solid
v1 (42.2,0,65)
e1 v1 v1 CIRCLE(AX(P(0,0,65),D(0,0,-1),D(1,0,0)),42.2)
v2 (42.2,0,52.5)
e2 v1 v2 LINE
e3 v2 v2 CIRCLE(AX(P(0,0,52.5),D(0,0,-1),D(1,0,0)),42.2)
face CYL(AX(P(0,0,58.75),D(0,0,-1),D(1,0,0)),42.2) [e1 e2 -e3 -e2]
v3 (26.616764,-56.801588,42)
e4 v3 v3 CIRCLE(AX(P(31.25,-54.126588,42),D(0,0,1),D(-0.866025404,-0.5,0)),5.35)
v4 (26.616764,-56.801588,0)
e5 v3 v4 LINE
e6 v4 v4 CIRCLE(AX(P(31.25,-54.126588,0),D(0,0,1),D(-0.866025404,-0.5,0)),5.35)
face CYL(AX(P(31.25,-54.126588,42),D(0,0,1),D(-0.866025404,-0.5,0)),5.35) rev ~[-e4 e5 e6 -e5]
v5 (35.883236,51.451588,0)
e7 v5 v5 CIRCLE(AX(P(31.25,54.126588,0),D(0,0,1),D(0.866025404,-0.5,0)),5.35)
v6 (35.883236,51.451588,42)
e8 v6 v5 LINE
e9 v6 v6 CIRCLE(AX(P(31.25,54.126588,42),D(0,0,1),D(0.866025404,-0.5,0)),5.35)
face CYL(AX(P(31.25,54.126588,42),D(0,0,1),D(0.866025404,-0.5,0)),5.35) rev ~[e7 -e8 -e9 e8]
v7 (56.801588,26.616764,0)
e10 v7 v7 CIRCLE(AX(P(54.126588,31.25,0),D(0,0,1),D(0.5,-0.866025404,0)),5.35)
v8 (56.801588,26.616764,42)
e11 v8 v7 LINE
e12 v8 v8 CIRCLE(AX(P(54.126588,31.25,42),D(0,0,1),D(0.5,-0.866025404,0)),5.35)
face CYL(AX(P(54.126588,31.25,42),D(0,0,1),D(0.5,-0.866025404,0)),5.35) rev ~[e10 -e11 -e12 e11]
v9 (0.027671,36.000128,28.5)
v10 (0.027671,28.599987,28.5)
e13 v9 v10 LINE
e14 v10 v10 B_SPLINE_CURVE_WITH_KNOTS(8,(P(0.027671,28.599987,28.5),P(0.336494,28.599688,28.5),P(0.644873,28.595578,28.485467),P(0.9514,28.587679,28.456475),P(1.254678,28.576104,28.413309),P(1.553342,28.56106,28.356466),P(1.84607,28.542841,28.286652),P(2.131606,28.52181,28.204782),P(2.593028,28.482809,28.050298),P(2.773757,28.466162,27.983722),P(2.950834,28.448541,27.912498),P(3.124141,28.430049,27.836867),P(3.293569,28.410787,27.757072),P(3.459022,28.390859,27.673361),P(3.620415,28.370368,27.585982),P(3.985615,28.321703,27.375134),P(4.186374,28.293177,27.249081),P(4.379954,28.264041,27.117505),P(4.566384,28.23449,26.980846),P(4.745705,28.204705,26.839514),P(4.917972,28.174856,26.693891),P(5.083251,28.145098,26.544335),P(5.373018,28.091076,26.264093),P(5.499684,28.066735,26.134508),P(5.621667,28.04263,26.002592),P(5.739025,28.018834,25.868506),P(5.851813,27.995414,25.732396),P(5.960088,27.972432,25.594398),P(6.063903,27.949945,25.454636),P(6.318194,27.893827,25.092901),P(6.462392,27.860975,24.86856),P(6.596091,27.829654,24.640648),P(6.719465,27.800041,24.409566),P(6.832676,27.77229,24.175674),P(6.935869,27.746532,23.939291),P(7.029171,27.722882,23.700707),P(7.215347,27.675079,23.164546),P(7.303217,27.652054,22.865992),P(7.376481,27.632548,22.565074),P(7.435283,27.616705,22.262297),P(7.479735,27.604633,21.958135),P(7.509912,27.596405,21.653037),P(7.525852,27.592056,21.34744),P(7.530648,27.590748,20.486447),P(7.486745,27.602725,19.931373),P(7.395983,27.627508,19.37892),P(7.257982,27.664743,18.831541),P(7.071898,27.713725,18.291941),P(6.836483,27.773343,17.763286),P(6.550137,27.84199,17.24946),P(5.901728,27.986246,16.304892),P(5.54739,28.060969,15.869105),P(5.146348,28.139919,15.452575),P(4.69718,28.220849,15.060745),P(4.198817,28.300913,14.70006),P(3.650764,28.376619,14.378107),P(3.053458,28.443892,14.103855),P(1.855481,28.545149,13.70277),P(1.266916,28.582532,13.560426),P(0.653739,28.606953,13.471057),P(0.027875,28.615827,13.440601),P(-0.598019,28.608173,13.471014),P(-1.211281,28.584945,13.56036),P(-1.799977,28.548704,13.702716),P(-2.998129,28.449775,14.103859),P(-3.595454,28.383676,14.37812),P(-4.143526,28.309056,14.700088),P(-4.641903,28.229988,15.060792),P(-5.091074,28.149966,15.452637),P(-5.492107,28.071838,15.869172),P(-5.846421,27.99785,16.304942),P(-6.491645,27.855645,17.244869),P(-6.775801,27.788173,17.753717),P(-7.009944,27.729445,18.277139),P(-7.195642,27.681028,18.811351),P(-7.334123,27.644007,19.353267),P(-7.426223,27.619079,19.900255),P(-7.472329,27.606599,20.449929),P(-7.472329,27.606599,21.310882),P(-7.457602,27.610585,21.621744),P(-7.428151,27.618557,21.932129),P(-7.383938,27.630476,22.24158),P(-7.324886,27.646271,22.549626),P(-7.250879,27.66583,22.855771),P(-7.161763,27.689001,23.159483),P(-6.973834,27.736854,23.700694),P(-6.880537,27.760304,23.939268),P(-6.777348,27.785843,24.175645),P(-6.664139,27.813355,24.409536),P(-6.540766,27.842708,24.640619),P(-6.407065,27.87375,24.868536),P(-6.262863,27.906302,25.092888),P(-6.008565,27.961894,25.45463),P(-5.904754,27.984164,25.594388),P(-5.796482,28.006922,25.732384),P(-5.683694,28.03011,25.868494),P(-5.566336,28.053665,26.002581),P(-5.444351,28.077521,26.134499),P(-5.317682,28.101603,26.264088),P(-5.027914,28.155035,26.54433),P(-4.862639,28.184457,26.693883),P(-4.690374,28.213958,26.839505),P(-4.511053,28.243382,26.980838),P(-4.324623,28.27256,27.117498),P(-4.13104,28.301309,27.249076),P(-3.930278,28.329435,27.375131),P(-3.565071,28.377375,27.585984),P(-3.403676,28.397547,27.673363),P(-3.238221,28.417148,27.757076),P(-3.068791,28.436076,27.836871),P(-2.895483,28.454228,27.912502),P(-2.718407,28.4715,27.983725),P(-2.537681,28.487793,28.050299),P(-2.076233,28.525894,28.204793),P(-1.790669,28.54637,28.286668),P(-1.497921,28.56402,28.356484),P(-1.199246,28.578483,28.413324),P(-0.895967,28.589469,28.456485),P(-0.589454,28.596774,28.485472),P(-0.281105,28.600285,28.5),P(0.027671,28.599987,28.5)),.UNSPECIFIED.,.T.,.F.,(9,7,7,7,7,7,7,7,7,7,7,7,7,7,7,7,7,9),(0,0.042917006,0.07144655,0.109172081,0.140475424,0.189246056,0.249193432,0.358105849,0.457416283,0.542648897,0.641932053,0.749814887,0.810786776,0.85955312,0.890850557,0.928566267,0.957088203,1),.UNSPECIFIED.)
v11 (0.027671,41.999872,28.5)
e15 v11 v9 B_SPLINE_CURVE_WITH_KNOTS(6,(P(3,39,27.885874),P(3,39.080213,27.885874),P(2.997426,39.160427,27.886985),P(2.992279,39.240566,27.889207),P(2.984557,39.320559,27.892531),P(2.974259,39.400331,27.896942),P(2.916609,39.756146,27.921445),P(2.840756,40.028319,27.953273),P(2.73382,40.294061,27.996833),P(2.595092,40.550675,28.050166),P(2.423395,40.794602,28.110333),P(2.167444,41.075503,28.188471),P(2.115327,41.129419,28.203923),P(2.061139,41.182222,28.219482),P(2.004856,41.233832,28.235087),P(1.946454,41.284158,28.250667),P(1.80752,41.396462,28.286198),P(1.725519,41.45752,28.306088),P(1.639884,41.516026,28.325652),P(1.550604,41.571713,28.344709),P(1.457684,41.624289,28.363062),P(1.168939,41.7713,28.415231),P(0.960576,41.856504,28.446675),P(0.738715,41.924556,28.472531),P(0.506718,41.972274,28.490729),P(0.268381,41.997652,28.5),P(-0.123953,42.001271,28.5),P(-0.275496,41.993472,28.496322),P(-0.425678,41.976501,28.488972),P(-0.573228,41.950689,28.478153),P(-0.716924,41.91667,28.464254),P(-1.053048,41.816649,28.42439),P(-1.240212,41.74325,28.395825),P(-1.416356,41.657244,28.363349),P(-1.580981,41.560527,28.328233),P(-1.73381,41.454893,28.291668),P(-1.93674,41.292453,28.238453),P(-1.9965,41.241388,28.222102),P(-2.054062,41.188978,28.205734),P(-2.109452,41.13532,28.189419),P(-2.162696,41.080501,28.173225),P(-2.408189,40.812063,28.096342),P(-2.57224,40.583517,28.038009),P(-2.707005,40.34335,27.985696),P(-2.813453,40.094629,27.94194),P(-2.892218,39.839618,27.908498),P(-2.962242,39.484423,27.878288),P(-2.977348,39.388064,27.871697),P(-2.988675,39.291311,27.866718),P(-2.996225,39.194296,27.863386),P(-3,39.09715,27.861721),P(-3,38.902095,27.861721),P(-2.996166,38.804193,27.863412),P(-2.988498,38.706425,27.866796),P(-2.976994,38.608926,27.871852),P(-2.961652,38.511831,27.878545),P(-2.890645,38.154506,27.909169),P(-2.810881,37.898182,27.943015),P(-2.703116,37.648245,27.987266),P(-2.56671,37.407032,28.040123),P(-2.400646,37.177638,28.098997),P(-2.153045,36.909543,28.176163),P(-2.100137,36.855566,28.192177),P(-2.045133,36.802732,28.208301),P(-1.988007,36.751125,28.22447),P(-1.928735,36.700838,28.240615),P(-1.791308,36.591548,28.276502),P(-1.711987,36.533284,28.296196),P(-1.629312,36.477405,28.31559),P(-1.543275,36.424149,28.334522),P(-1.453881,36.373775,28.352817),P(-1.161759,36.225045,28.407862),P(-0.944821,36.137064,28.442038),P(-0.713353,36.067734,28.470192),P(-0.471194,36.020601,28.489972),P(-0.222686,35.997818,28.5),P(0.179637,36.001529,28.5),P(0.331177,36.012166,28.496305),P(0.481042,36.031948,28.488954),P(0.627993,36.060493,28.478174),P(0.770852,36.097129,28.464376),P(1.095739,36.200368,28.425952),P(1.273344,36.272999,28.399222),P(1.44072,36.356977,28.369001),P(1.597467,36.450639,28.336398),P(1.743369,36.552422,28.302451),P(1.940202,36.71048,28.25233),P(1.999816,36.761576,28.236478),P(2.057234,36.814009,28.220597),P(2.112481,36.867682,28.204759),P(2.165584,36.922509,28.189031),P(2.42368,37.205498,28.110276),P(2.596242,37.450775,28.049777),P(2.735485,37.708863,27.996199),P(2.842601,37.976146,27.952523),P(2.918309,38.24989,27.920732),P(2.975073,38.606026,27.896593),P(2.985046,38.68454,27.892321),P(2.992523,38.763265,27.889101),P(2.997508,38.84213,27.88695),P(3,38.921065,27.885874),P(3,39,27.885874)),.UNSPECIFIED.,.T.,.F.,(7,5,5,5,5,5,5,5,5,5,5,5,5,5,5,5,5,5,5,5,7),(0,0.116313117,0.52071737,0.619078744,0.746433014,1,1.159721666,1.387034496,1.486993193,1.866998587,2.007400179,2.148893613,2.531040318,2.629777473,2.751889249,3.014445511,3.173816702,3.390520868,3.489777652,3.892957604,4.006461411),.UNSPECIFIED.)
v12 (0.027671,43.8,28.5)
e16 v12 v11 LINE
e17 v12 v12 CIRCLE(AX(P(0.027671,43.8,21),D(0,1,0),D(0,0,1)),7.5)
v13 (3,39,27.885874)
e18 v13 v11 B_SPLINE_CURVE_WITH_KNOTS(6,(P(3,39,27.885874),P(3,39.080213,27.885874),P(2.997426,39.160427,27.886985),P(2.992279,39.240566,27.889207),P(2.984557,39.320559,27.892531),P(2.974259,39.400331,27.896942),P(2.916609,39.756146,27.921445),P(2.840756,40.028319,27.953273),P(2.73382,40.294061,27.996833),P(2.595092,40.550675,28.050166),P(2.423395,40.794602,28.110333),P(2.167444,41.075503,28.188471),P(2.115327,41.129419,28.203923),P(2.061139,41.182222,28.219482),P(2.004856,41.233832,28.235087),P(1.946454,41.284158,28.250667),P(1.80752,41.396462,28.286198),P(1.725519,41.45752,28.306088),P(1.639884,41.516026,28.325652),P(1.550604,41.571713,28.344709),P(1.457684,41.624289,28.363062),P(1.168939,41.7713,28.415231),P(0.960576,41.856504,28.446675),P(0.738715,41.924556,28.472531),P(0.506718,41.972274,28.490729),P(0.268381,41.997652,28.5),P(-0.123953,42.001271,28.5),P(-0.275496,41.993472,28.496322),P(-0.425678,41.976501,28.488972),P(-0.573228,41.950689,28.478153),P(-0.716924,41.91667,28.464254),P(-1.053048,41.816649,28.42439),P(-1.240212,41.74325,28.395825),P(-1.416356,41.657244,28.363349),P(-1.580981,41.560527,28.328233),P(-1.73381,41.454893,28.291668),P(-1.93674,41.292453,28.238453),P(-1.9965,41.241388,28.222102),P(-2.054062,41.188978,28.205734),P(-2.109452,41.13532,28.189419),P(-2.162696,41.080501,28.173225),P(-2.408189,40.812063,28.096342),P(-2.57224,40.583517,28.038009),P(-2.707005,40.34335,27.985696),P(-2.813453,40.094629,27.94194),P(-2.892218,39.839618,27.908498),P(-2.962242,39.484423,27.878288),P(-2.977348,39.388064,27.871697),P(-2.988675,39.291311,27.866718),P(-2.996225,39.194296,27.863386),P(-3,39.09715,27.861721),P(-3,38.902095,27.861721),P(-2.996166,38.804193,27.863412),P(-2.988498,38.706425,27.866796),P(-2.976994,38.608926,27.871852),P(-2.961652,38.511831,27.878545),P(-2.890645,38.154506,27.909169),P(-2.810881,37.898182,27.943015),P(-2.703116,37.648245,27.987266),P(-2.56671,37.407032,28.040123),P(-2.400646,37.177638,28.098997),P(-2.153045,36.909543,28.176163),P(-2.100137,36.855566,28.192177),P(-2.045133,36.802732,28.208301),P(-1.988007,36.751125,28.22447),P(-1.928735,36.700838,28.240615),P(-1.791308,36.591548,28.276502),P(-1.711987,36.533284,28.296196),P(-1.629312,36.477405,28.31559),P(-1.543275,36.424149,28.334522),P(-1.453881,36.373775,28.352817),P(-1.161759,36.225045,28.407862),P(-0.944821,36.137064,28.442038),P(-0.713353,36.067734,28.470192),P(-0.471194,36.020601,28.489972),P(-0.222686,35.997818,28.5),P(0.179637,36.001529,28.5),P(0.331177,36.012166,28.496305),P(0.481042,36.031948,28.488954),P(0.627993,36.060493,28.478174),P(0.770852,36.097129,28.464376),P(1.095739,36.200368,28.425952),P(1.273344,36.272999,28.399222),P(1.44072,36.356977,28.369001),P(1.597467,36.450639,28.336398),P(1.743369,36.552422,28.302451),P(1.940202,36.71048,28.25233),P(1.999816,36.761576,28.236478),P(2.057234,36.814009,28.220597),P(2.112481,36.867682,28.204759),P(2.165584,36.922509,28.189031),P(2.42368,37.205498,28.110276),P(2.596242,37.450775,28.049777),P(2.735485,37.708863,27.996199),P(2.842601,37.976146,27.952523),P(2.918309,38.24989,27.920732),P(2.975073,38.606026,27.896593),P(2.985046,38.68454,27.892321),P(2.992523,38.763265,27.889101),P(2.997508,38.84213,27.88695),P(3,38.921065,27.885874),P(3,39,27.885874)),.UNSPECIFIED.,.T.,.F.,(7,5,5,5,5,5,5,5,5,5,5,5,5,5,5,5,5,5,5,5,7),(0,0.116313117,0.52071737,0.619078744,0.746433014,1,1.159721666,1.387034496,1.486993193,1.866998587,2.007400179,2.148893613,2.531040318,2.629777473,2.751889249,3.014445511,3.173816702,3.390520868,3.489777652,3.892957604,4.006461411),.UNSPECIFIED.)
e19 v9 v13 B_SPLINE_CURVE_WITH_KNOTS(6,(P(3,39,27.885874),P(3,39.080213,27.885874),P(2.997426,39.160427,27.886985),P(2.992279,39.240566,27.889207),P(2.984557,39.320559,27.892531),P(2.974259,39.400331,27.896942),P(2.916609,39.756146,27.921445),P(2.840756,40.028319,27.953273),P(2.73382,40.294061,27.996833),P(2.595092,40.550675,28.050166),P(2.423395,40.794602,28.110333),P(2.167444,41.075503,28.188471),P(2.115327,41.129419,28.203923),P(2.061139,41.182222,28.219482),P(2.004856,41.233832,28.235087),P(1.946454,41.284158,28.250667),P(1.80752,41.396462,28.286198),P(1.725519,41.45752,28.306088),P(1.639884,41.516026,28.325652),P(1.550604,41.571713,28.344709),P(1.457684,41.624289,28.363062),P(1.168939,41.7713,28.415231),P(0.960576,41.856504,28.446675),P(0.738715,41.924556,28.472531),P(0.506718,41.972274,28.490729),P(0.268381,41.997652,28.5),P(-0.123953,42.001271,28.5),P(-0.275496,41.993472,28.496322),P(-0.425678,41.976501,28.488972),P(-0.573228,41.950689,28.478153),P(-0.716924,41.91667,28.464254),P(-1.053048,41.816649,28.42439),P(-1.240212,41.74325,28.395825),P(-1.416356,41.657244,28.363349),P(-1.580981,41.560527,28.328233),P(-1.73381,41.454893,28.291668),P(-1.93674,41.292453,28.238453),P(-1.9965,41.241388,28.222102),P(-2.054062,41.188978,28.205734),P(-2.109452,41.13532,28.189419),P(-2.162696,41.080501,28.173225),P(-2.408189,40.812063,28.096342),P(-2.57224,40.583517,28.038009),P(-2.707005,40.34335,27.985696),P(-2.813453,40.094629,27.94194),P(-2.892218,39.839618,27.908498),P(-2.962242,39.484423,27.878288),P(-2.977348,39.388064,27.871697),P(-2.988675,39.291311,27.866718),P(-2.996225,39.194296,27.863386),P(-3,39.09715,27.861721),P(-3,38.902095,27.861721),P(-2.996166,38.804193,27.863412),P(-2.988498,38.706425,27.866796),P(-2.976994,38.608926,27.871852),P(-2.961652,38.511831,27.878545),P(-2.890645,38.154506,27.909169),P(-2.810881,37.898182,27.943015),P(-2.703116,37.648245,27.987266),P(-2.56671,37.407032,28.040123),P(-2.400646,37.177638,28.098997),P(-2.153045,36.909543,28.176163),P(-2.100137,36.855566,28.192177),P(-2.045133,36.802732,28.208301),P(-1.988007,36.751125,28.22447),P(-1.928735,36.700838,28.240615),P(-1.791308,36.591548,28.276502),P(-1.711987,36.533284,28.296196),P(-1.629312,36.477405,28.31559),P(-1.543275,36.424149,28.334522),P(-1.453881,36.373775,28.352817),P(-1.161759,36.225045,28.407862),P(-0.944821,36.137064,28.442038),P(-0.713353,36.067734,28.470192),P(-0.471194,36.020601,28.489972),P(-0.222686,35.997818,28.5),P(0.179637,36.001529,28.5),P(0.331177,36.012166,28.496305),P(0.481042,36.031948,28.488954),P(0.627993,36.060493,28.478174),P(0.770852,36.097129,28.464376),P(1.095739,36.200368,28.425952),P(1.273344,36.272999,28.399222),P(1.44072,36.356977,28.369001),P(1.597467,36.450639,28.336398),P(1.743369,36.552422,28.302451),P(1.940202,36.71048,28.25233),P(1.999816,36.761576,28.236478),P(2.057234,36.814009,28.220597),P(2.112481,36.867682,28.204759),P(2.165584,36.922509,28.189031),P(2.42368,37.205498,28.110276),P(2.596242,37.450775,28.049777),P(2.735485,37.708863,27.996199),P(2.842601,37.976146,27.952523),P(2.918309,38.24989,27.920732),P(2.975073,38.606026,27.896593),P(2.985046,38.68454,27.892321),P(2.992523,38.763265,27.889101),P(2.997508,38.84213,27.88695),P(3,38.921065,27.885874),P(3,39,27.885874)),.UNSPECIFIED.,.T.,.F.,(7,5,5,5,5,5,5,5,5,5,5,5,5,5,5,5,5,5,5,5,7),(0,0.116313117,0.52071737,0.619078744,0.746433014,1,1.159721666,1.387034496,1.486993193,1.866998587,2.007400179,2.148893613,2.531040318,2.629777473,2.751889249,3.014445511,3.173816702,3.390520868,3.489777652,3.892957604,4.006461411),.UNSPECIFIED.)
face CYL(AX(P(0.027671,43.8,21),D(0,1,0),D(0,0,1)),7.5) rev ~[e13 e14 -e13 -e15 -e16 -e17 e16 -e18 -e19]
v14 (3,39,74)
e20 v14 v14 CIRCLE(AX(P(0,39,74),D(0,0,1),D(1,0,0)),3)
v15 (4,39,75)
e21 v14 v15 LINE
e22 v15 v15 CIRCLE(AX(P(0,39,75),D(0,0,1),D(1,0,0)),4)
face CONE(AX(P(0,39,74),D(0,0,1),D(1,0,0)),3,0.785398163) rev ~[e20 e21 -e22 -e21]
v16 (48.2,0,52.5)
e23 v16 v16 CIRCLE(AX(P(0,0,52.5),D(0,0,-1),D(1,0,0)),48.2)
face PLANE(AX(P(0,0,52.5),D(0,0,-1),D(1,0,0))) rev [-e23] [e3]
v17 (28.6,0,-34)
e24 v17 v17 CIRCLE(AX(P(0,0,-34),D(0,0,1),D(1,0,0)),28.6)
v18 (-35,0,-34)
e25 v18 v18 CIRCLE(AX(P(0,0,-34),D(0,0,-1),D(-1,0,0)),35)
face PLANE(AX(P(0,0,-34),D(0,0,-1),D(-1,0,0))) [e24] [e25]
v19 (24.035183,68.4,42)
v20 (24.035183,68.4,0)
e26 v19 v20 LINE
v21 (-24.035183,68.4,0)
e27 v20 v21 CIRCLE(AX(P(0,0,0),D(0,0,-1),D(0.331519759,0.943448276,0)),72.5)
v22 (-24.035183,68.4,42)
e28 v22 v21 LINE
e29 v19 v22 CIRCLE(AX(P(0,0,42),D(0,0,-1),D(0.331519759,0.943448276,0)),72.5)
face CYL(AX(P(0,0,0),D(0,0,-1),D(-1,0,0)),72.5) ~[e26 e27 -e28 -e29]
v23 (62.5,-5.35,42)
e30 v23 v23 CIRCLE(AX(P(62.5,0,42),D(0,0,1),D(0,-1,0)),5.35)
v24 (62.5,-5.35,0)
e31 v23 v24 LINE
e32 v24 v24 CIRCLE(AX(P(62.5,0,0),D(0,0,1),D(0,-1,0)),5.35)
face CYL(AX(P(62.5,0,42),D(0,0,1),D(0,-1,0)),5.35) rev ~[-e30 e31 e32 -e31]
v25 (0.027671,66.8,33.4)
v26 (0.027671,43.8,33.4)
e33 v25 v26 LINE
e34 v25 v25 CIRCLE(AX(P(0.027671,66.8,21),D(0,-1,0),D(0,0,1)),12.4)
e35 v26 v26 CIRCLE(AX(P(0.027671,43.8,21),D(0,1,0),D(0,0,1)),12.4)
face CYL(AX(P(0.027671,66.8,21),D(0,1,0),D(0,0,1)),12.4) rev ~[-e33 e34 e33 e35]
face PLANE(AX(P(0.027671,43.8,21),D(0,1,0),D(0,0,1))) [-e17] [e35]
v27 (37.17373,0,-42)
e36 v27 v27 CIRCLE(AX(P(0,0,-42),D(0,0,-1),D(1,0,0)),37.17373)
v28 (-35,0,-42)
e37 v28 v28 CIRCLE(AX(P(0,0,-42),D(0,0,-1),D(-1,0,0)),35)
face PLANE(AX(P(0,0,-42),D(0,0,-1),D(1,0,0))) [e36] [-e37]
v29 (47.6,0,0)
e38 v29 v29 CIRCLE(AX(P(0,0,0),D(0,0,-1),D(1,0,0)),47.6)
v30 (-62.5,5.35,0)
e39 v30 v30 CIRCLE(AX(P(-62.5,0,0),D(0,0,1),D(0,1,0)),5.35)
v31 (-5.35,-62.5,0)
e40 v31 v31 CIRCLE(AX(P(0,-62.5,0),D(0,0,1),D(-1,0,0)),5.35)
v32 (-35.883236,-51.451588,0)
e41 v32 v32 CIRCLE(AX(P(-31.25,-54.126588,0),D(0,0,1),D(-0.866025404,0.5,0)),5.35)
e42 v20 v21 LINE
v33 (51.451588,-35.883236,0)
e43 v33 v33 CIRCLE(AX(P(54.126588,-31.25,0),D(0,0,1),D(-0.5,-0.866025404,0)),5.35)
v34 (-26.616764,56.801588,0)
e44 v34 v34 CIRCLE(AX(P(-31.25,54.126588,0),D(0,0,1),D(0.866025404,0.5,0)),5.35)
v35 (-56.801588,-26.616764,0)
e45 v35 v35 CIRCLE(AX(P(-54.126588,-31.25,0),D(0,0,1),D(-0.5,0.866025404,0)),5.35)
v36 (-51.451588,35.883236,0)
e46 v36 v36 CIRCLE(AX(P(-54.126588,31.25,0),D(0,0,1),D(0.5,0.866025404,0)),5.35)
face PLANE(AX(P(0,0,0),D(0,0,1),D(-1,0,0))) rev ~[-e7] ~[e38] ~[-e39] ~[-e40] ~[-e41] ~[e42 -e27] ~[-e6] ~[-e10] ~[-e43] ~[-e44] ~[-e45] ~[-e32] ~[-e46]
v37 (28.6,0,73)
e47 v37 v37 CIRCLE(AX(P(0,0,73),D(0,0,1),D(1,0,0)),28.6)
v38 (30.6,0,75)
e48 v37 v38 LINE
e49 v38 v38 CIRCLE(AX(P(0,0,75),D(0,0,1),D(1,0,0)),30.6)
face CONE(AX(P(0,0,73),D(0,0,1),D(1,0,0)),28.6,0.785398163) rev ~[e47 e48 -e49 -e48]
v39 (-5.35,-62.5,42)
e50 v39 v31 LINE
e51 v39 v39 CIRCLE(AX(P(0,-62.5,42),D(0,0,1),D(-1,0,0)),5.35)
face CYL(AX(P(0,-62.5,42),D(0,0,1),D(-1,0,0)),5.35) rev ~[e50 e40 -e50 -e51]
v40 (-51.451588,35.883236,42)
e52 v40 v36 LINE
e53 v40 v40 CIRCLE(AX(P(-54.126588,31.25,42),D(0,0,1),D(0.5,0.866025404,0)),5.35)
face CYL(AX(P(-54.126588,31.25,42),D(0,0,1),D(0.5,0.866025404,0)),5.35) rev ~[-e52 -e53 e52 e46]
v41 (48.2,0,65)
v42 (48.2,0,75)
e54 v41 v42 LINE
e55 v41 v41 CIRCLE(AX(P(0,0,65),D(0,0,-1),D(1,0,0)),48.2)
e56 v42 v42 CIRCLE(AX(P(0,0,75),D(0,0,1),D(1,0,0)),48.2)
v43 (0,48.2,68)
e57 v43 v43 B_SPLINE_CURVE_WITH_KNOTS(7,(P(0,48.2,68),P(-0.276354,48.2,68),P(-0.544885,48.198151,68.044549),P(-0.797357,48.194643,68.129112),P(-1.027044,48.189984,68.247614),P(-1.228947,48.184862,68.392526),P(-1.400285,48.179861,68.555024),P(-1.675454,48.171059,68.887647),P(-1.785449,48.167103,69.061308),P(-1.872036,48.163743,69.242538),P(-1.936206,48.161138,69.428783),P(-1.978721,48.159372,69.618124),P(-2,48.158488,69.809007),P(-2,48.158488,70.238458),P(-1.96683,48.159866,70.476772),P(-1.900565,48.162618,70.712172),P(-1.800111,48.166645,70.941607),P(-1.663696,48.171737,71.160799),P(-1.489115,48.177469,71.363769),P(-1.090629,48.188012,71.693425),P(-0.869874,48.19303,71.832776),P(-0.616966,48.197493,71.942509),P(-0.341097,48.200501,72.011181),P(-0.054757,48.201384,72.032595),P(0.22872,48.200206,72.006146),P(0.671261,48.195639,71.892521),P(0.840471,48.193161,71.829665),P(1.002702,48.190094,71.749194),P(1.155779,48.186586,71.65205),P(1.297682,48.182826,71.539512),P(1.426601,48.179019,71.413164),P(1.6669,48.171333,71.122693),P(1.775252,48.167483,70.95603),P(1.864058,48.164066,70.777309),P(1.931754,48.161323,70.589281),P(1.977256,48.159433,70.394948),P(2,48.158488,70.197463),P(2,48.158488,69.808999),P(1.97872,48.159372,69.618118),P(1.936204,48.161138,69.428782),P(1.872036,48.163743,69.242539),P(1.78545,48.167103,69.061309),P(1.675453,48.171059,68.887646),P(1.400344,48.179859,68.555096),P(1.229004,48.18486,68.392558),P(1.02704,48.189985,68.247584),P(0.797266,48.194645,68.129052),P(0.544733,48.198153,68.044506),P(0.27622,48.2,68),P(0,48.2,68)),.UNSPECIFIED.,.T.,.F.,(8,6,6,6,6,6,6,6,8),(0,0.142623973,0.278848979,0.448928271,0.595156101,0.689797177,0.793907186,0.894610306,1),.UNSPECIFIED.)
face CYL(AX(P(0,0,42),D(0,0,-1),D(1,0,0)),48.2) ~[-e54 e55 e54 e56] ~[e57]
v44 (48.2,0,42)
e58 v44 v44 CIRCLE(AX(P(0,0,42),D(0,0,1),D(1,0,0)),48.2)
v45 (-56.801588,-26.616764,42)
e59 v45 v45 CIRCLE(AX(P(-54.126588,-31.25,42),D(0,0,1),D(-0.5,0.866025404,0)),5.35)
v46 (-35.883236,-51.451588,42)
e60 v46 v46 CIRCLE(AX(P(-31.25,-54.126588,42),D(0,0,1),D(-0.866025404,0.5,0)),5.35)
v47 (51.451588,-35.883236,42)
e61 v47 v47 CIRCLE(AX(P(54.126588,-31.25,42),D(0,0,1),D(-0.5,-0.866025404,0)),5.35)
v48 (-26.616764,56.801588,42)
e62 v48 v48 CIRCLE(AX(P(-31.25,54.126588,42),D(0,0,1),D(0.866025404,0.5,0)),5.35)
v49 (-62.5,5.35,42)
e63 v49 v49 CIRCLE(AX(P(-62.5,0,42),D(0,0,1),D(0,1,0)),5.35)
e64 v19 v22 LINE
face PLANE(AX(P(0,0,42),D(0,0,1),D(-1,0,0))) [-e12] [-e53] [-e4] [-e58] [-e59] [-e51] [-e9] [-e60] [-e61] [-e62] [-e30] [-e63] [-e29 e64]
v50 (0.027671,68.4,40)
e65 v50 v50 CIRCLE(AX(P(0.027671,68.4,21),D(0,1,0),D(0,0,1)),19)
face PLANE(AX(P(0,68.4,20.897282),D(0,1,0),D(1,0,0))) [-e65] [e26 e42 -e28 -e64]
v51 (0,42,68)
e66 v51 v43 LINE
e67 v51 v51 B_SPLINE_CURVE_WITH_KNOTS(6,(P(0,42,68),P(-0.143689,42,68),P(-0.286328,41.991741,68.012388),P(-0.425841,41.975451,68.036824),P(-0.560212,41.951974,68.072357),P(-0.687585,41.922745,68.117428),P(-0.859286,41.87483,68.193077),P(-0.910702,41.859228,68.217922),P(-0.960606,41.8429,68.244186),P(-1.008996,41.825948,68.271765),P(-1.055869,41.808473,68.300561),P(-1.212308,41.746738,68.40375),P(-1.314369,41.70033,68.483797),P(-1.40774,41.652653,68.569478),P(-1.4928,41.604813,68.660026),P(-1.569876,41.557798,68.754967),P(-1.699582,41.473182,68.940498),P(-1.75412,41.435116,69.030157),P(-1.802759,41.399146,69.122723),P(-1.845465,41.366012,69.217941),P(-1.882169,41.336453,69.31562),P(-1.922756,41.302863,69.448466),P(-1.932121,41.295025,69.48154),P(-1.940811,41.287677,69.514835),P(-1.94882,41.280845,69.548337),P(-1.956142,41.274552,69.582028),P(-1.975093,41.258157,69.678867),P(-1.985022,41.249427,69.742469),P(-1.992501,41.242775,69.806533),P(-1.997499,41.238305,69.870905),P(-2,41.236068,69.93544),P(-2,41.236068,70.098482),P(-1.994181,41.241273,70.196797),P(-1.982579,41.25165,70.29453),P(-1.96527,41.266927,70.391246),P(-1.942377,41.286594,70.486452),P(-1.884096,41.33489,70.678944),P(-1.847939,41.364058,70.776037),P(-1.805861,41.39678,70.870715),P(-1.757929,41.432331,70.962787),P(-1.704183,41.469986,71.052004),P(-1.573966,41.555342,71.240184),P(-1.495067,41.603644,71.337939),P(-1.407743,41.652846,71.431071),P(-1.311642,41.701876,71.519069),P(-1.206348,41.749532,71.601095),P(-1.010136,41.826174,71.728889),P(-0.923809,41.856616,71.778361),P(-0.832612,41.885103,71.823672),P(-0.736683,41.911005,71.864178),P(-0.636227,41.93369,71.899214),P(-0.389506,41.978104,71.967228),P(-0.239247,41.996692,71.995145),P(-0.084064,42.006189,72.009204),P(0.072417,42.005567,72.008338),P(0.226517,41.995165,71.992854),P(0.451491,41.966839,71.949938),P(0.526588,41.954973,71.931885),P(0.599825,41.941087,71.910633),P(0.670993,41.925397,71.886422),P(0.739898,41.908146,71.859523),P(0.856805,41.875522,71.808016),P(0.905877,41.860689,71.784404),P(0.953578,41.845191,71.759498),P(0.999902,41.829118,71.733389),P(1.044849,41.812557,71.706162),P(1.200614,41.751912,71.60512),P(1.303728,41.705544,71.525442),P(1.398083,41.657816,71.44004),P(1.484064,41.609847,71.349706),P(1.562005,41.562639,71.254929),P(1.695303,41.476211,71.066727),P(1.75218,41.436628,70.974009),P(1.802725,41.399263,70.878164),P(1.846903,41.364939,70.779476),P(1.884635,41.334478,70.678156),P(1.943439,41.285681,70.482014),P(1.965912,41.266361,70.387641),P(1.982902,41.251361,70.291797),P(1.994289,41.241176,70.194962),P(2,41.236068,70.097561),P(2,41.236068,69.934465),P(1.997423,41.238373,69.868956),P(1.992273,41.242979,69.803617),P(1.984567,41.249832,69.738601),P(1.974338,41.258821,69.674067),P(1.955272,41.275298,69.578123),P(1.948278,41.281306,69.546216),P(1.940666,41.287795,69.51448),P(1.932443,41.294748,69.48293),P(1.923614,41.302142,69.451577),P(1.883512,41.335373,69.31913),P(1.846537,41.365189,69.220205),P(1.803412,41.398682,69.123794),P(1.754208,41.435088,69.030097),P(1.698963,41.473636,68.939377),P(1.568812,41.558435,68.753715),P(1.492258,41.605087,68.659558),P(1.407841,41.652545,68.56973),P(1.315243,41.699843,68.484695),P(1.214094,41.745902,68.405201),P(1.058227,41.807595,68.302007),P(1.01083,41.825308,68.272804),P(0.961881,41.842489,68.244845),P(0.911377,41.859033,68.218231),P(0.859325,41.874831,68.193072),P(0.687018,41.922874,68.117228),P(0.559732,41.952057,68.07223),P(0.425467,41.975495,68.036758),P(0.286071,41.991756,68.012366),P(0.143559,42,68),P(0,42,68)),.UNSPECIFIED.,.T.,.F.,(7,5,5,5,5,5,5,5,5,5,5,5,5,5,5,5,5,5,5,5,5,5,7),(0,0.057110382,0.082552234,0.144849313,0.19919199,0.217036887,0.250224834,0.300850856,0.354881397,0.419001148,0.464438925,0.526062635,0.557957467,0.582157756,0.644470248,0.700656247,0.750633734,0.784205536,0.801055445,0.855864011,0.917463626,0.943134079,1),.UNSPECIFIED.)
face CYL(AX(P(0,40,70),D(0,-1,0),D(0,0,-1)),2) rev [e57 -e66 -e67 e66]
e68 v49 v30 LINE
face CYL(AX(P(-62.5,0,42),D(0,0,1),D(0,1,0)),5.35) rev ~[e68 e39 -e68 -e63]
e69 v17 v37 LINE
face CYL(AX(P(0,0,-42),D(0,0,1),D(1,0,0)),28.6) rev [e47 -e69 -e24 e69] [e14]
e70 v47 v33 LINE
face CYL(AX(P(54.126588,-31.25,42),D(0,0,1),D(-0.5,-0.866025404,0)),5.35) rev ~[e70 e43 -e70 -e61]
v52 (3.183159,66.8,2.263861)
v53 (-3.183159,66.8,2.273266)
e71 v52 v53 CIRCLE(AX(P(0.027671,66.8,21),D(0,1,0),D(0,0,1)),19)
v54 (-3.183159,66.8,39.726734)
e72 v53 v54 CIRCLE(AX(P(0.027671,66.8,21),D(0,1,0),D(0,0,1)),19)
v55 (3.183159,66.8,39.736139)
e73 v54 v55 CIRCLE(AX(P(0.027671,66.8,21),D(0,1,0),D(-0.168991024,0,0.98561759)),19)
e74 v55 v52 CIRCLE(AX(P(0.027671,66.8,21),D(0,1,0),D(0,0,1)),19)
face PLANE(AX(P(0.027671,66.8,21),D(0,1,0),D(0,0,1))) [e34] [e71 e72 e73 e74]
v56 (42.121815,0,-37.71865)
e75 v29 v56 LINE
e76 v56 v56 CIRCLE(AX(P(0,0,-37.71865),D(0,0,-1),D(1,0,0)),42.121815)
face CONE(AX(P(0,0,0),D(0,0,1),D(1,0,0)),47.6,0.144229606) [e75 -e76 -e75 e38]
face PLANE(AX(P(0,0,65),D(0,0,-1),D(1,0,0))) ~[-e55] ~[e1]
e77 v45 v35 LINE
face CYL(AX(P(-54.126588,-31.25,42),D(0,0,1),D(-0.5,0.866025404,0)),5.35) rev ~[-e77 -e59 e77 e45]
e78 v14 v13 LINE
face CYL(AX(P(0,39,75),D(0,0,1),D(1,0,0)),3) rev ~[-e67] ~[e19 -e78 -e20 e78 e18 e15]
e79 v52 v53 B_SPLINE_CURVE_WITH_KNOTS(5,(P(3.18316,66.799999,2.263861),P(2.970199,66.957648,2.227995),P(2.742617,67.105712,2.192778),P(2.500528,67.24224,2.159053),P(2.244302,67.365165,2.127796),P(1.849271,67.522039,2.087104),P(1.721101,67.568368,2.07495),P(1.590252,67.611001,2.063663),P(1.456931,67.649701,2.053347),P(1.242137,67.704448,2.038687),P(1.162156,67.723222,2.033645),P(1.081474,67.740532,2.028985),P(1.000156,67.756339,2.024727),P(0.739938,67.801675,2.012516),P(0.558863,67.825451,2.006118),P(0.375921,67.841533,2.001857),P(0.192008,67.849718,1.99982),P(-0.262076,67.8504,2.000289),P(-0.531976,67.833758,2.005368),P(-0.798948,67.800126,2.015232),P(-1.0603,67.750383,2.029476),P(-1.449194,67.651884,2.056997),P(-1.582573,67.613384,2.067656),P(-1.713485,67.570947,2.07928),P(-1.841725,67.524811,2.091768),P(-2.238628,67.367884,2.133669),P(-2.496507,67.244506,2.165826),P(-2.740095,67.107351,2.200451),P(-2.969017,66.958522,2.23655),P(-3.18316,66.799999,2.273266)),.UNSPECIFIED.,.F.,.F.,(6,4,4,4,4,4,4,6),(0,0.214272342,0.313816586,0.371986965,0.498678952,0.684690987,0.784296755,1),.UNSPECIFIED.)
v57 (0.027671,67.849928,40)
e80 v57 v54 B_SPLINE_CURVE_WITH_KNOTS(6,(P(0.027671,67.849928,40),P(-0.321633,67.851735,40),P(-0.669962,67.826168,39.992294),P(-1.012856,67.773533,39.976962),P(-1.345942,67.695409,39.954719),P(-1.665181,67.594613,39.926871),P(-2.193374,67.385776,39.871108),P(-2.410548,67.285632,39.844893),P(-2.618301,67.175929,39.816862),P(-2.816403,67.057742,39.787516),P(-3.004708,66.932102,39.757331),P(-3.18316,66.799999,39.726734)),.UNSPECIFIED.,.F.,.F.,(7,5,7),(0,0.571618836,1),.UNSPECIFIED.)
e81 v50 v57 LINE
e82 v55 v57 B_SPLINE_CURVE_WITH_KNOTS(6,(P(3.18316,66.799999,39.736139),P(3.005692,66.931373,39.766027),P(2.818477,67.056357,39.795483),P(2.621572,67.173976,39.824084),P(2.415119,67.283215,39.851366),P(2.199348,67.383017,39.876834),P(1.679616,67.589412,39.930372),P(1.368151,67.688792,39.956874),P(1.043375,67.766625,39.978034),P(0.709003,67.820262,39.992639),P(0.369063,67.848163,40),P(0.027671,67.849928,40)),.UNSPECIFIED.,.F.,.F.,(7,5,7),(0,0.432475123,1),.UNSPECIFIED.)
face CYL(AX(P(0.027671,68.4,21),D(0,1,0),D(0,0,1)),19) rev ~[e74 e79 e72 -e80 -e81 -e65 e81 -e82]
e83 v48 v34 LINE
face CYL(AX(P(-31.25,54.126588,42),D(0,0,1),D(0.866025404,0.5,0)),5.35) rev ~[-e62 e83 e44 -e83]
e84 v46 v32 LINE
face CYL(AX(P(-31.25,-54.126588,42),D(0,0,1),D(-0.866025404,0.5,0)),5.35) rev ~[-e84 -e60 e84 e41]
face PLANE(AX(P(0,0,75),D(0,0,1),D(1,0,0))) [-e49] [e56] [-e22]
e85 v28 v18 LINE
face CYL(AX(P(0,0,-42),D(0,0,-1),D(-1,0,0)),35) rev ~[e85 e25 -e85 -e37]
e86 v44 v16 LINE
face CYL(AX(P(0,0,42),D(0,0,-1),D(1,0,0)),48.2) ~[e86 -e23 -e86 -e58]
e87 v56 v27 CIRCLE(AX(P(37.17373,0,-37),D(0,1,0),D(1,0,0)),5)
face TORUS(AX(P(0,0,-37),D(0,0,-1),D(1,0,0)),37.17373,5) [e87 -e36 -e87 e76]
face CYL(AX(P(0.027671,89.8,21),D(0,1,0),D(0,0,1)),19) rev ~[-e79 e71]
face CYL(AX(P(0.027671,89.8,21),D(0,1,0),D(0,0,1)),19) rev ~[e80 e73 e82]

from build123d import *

# Parameters (mm, degrees)
SZKIC1_R                        = 72.5
DODANIE_WYCI_GNI_CIE1_DEPTH     = 42
SZKIC2_R                        = 48.2
DODANIE_WYCI_GNI_CIE2_DEPTH     = 33
SZKIC4_R                        = 28.6
WYTNIJ_WYCI_GNI_CIE1_DEPTH      = 156.568312969
SZKIC5_R                        = 35
WYTNIJ_WYCI_GNI_CIE2_DEPTH      = 8
SZKIC6_W                        = 12.5
SZKIC6_H                        = 6
ZAOKR_GLENIE1_R                 = 5
SZKIC7_R                        = 5.35
WYTNIJ_WYCI_GNI_CIE3_DEPTH      = 133.546218354
SZYK_KO_OWY1_COUNT              = 12
SFAZOWANIE1_SIZE                = 2
WYTNIJ_WYCI_GNI_CIE4_DEPTH      = 40
WYTNIJ_WYCI_GNI_CIE4_DEPTH_BACK = 1.6
SZKIC8_W                        = 51
SZKIC8_H                        = 59.587656766
SZKIC9_R                        = 19
WYTNIJ_WYCI_GNI_CIE5_DEPTH      = 1.6
SZKIC14_R                       = 5.35
DODANIE_WYCI_GNI_CIE4_DEPTH     = 42
SZKIC15_R                       = 12.4
WYTNIJ_WYCI_GNI_CIE6_DEPTH      = 23
WYTNIJ_WYCI_GNI_CIE7_START      = 23
SZKIC16_R                       = 19
WYTNIJ_WYCI_GNI_CIE7_DEPTH      = 23
SZKIC17_R                       = 7.5
WYTNIJ_WYCI_GNI_CIE8_DEPTH      = 23
WYTNIJ_WYCI_GNI_CIE9_REACH      = 157.568
WYTNIJ_WYCI_GNI_CIE9_END_RADIUS = 7.5
SZKIC18_R                       = 3
SFAZOWANIE2_SIZE                = 1
WYTNIJ_WYCI_GNI_CIE10_START     = 40
SZKIC19_R                       = 2
WYTNIJ_WYCI_GNI_CIE10_DEPTH     = 88.033460159


with BuildPart() as part:
    # Szkic1 → Dodanie-wyciągnięcie1 (new body)
    with BuildSketch(Plane.XY):
        with Locations(Location((0, 0, 0), (0, 0, 180))):
            Circle(SZKIC1_R)
    extrude(amount=DODANIE_WYCI_GNI_CIE1_DEPTH)

    # Szkic2 → Dodanie-wyciągnięcie2 (add)
    with BuildSketch(Plane.XY.offset(42)):
        Circle(SZKIC2_R)
    extrude(amount=DODANIE_WYCI_GNI_CIE2_DEPTH)

    # Szkic3 → Obrót1 (revolve)
    with BuildSketch(Plane(origin=(0, 0, 0), x_dir=(0, 0, -1), z_dir=(1, 0, 0)), mode=Mode.PRIVATE) as obr_t1_sk:
        Polygon((0, 47.6), (42, 41.5), (42, 28.6), (0, 28.6), align=None)
    revolve(obr_t1_sk.sketch.rotate(Axis((0, 0, 0), (0, 0, -1)), 90), axis=Axis((0, 0, 0), (0, 0, -1)))

    # Szkic4 → Wytnij-wyciągnięcie1 (cut, through all)
    with BuildSketch(Plane.XY.offset(75)):
        Circle(SZKIC4_R)
    extrude(amount=-WYTNIJ_WYCI_GNI_CIE1_DEPTH, mode=Mode.SUBTRACT)

    # Szkic5 → Wytnij-wyciągnięcie2 (cut)
    with BuildSketch(Plane(origin=(0, 0, -42), x_dir=(-1, 0, 0), z_dir=(0, 0, -1))):
        Circle(SZKIC5_R)
    extrude(amount=-WYTNIJ_WYCI_GNI_CIE2_DEPTH, mode=Mode.SUBTRACT)

    # Szkic6 → Wycięcie-obrót1 (revolve, cut)
    with BuildSketch(Plane(origin=(0, 0, 0), x_dir=(0, 0, -1), z_dir=(1, 0, 0)), mode=Mode.PRIVATE) as wyci_cie_obr_t1_sk:
        with Locations((-58.75, 45.2)):
            Rectangle(SZKIC6_W, SZKIC6_H)
    revolve(wyci_cie_obr_t1_sk.sketch.rotate(Axis((0, 0, 78.98361655), (0, 0, -1)), 90), axis=Axis((0, 0, 78.98361655), (0, 0, -1)), mode=Mode.SUBTRACT)

    # Zaokrąglenie1
    zaokr_glenie1_edges = [part.edges().sort_by_distance(p)[0] for p in [
        (-41.5, 0, -42),
    ]]
    fillet(zaokr_glenie1_edges, radius=ZAOKR_GLENIE1_R)

    # Szkic7 → Wytnij-wyciągnięcie3 (cut, through all)
    with BuildSketch(Plane.XY.offset(42)):
        with Locations((0, 62.5)):
            Circle(SZKIC7_R)
    wytnij_wyci_gni_cie3 = extrude(amount=-WYTNIJ_WYCI_GNI_CIE3_DEPTH, mode=Mode.SUBTRACT)

    # Szyk kołowy1: Wytnij-wyciągnięcie3 ×12 about axis
    szyk_ko_owy1_axis = Axis((0, 0, 0), (0, 0, 1))
    for i in range(1, SZYK_KO_OWY1_COUNT):
        add(wytnij_wyci_gni_cie3.rotate(szyk_ko_owy1_axis, i * 360 / SZYK_KO_OWY1_COUNT), mode=Mode.SUBTRACT)

    # Sfazowanie1
    sfazowanie1_edges = [part.edges().sort_by_distance(p)[0] for p in [
        (-28.6, 0, 75),
    ]]
    chamfer(sfazowanie1_edges, length=SFAZOWANIE1_SIZE)

    # Szkic8 → Wytnij-wyciągnięcie4 (cut, two sides: drawn at the far end of the back side and taken through both)
    with BuildSketch(Plane(origin=(0, 70, 0), x_dir=(1, 0, 0), z_dir=(0, 1, 0)).offset(-WYTNIJ_WYCI_GNI_CIE4_DEPTH_BACK)):
        with Locations((0, -20.8972819)):
            Rectangle(SZKIC8_W, SZKIC8_H)
    extrude(amount=WYTNIJ_WYCI_GNI_CIE4_DEPTH + WYTNIJ_WYCI_GNI_CIE4_DEPTH_BACK, mode=Mode.SUBTRACT)

    # Szkic9 → Wytnij-wyciągnięcie5 (cut)
    with BuildSketch(Plane(origin=(0, 68.4, 0), x_dir=(1, 0, 0), z_dir=(0, 1, 0))):
        with Locations(Location((0.027670653, -21, 0), (0, 0, 270))):
            Circle(SZKIC9_R)
    extrude(amount=-WYTNIJ_WYCI_GNI_CIE5_DEPTH, mode=Mode.SUBTRACT)

    # Szkic14 → Dodanie-wyciągnięcie4 (add)
    with BuildSketch(Plane.XY.offset(42)):
        with Locations((0, 62.5)):
            Circle(SZKIC14_R)
    extrude(amount=-DODANIE_WYCI_GNI_CIE4_DEPTH)

    # Szkic15 → Wytnij-wyciągnięcie6 (cut)
    with BuildSketch(Plane(origin=(0, 66.8, 0), x_dir=(1, 0, 0), z_dir=(0, 1, 0))):
        with Locations(Location((0.027670653, -21, 0), (0, 0, 270))):
            Circle(SZKIC15_R)
    extrude(amount=-WYTNIJ_WYCI_GNI_CIE6_DEPTH, mode=Mode.SUBTRACT)

    # Szkic16 → Wytnij-wyciągnięcie7 (cut)
    with BuildSketch(Plane(origin=(0, 66.8, 0), x_dir=(1, 0, 0), z_dir=(0, 1, 0)).offset(WYTNIJ_WYCI_GNI_CIE7_START)):
        with Locations(Location((0.027670653, -21, 0), (0, 0, 270))):
            Circle(SZKIC16_R)
    extrude(amount=-WYTNIJ_WYCI_GNI_CIE7_DEPTH, mode=Mode.SUBTRACT)

    # Szkic17 → Wytnij-wyciągnięcie8 (cut)
    with BuildSketch(Plane(origin=(0, 43.8, 0), x_dir=(1, 0, 0), z_dir=(0, 1, 0))):
        with Locations(Location((0.027670653, -21, 0), (0, 0, 270))):
            Circle(SZKIC17_R)
    extrude(amount=-WYTNIJ_WYCI_GNI_CIE8_DEPTH, mode=Mode.SUBTRACT)

    # Wytnij-wyciągnięcie9: up to this cylinder (the profile starts outside it)
    wytnij_wyci_gni_cie9_end = Plane(origin=(0.027670653, 39, 21), z_dir=(0, 1, 0)) * Cylinder(WYTNIJ_WYCI_GNI_CIE9_END_RADIUS, 331.136, mode=Mode.PRIVATE)
    # Szkic18 → Wytnij-wyciągnięcie9 (cut, up to the surface)
    with BuildSketch(Plane.XY.offset(75), mode=Mode.PRIVATE) as wytnij_wyci_gni_cie9_sk1:
        with Locations((0, 39)):
            Circle(SZKIC18_R)
    wytnij_wyci_gni_cie9_tool1 = extrude(wytnij_wyci_gni_cie9_sk1.sketch, amount=-WYTNIJ_WYCI_GNI_CIE9_REACH, mode=Mode.PRIVATE) - wytnij_wyci_gni_cie9_end
    add(wytnij_wyci_gni_cie9_tool1.solids().sort_by_distance((0, 39, 75))[0], mode=Mode.SUBTRACT)

    # Sfazowanie2
    sfazowanie2_edges = [part.edges().sort_by_distance(p)[0] for p in [
        (-3, 39, 75),
    ]]
    chamfer(sfazowanie2_edges, length=SFAZOWANIE2_SIZE)

    # Szkic19 → Wytnij-wyciągnięcie10 (cut, through all)
    with BuildSketch(Plane(origin=(0, 0, 0), x_dir=(1, 0, 0), z_dir=(0, 1, 0)).offset(WYTNIJ_WYCI_GNI_CIE10_START)):
        with Locations(Location((0, -70, 0), (0, 0, 90))):
            Circle(SZKIC19_R)
    extrude(amount=WYTNIJ_WYCI_GNI_CIE10_DEPTH, mode=Mode.SUBTRACT)


solid = part.part
